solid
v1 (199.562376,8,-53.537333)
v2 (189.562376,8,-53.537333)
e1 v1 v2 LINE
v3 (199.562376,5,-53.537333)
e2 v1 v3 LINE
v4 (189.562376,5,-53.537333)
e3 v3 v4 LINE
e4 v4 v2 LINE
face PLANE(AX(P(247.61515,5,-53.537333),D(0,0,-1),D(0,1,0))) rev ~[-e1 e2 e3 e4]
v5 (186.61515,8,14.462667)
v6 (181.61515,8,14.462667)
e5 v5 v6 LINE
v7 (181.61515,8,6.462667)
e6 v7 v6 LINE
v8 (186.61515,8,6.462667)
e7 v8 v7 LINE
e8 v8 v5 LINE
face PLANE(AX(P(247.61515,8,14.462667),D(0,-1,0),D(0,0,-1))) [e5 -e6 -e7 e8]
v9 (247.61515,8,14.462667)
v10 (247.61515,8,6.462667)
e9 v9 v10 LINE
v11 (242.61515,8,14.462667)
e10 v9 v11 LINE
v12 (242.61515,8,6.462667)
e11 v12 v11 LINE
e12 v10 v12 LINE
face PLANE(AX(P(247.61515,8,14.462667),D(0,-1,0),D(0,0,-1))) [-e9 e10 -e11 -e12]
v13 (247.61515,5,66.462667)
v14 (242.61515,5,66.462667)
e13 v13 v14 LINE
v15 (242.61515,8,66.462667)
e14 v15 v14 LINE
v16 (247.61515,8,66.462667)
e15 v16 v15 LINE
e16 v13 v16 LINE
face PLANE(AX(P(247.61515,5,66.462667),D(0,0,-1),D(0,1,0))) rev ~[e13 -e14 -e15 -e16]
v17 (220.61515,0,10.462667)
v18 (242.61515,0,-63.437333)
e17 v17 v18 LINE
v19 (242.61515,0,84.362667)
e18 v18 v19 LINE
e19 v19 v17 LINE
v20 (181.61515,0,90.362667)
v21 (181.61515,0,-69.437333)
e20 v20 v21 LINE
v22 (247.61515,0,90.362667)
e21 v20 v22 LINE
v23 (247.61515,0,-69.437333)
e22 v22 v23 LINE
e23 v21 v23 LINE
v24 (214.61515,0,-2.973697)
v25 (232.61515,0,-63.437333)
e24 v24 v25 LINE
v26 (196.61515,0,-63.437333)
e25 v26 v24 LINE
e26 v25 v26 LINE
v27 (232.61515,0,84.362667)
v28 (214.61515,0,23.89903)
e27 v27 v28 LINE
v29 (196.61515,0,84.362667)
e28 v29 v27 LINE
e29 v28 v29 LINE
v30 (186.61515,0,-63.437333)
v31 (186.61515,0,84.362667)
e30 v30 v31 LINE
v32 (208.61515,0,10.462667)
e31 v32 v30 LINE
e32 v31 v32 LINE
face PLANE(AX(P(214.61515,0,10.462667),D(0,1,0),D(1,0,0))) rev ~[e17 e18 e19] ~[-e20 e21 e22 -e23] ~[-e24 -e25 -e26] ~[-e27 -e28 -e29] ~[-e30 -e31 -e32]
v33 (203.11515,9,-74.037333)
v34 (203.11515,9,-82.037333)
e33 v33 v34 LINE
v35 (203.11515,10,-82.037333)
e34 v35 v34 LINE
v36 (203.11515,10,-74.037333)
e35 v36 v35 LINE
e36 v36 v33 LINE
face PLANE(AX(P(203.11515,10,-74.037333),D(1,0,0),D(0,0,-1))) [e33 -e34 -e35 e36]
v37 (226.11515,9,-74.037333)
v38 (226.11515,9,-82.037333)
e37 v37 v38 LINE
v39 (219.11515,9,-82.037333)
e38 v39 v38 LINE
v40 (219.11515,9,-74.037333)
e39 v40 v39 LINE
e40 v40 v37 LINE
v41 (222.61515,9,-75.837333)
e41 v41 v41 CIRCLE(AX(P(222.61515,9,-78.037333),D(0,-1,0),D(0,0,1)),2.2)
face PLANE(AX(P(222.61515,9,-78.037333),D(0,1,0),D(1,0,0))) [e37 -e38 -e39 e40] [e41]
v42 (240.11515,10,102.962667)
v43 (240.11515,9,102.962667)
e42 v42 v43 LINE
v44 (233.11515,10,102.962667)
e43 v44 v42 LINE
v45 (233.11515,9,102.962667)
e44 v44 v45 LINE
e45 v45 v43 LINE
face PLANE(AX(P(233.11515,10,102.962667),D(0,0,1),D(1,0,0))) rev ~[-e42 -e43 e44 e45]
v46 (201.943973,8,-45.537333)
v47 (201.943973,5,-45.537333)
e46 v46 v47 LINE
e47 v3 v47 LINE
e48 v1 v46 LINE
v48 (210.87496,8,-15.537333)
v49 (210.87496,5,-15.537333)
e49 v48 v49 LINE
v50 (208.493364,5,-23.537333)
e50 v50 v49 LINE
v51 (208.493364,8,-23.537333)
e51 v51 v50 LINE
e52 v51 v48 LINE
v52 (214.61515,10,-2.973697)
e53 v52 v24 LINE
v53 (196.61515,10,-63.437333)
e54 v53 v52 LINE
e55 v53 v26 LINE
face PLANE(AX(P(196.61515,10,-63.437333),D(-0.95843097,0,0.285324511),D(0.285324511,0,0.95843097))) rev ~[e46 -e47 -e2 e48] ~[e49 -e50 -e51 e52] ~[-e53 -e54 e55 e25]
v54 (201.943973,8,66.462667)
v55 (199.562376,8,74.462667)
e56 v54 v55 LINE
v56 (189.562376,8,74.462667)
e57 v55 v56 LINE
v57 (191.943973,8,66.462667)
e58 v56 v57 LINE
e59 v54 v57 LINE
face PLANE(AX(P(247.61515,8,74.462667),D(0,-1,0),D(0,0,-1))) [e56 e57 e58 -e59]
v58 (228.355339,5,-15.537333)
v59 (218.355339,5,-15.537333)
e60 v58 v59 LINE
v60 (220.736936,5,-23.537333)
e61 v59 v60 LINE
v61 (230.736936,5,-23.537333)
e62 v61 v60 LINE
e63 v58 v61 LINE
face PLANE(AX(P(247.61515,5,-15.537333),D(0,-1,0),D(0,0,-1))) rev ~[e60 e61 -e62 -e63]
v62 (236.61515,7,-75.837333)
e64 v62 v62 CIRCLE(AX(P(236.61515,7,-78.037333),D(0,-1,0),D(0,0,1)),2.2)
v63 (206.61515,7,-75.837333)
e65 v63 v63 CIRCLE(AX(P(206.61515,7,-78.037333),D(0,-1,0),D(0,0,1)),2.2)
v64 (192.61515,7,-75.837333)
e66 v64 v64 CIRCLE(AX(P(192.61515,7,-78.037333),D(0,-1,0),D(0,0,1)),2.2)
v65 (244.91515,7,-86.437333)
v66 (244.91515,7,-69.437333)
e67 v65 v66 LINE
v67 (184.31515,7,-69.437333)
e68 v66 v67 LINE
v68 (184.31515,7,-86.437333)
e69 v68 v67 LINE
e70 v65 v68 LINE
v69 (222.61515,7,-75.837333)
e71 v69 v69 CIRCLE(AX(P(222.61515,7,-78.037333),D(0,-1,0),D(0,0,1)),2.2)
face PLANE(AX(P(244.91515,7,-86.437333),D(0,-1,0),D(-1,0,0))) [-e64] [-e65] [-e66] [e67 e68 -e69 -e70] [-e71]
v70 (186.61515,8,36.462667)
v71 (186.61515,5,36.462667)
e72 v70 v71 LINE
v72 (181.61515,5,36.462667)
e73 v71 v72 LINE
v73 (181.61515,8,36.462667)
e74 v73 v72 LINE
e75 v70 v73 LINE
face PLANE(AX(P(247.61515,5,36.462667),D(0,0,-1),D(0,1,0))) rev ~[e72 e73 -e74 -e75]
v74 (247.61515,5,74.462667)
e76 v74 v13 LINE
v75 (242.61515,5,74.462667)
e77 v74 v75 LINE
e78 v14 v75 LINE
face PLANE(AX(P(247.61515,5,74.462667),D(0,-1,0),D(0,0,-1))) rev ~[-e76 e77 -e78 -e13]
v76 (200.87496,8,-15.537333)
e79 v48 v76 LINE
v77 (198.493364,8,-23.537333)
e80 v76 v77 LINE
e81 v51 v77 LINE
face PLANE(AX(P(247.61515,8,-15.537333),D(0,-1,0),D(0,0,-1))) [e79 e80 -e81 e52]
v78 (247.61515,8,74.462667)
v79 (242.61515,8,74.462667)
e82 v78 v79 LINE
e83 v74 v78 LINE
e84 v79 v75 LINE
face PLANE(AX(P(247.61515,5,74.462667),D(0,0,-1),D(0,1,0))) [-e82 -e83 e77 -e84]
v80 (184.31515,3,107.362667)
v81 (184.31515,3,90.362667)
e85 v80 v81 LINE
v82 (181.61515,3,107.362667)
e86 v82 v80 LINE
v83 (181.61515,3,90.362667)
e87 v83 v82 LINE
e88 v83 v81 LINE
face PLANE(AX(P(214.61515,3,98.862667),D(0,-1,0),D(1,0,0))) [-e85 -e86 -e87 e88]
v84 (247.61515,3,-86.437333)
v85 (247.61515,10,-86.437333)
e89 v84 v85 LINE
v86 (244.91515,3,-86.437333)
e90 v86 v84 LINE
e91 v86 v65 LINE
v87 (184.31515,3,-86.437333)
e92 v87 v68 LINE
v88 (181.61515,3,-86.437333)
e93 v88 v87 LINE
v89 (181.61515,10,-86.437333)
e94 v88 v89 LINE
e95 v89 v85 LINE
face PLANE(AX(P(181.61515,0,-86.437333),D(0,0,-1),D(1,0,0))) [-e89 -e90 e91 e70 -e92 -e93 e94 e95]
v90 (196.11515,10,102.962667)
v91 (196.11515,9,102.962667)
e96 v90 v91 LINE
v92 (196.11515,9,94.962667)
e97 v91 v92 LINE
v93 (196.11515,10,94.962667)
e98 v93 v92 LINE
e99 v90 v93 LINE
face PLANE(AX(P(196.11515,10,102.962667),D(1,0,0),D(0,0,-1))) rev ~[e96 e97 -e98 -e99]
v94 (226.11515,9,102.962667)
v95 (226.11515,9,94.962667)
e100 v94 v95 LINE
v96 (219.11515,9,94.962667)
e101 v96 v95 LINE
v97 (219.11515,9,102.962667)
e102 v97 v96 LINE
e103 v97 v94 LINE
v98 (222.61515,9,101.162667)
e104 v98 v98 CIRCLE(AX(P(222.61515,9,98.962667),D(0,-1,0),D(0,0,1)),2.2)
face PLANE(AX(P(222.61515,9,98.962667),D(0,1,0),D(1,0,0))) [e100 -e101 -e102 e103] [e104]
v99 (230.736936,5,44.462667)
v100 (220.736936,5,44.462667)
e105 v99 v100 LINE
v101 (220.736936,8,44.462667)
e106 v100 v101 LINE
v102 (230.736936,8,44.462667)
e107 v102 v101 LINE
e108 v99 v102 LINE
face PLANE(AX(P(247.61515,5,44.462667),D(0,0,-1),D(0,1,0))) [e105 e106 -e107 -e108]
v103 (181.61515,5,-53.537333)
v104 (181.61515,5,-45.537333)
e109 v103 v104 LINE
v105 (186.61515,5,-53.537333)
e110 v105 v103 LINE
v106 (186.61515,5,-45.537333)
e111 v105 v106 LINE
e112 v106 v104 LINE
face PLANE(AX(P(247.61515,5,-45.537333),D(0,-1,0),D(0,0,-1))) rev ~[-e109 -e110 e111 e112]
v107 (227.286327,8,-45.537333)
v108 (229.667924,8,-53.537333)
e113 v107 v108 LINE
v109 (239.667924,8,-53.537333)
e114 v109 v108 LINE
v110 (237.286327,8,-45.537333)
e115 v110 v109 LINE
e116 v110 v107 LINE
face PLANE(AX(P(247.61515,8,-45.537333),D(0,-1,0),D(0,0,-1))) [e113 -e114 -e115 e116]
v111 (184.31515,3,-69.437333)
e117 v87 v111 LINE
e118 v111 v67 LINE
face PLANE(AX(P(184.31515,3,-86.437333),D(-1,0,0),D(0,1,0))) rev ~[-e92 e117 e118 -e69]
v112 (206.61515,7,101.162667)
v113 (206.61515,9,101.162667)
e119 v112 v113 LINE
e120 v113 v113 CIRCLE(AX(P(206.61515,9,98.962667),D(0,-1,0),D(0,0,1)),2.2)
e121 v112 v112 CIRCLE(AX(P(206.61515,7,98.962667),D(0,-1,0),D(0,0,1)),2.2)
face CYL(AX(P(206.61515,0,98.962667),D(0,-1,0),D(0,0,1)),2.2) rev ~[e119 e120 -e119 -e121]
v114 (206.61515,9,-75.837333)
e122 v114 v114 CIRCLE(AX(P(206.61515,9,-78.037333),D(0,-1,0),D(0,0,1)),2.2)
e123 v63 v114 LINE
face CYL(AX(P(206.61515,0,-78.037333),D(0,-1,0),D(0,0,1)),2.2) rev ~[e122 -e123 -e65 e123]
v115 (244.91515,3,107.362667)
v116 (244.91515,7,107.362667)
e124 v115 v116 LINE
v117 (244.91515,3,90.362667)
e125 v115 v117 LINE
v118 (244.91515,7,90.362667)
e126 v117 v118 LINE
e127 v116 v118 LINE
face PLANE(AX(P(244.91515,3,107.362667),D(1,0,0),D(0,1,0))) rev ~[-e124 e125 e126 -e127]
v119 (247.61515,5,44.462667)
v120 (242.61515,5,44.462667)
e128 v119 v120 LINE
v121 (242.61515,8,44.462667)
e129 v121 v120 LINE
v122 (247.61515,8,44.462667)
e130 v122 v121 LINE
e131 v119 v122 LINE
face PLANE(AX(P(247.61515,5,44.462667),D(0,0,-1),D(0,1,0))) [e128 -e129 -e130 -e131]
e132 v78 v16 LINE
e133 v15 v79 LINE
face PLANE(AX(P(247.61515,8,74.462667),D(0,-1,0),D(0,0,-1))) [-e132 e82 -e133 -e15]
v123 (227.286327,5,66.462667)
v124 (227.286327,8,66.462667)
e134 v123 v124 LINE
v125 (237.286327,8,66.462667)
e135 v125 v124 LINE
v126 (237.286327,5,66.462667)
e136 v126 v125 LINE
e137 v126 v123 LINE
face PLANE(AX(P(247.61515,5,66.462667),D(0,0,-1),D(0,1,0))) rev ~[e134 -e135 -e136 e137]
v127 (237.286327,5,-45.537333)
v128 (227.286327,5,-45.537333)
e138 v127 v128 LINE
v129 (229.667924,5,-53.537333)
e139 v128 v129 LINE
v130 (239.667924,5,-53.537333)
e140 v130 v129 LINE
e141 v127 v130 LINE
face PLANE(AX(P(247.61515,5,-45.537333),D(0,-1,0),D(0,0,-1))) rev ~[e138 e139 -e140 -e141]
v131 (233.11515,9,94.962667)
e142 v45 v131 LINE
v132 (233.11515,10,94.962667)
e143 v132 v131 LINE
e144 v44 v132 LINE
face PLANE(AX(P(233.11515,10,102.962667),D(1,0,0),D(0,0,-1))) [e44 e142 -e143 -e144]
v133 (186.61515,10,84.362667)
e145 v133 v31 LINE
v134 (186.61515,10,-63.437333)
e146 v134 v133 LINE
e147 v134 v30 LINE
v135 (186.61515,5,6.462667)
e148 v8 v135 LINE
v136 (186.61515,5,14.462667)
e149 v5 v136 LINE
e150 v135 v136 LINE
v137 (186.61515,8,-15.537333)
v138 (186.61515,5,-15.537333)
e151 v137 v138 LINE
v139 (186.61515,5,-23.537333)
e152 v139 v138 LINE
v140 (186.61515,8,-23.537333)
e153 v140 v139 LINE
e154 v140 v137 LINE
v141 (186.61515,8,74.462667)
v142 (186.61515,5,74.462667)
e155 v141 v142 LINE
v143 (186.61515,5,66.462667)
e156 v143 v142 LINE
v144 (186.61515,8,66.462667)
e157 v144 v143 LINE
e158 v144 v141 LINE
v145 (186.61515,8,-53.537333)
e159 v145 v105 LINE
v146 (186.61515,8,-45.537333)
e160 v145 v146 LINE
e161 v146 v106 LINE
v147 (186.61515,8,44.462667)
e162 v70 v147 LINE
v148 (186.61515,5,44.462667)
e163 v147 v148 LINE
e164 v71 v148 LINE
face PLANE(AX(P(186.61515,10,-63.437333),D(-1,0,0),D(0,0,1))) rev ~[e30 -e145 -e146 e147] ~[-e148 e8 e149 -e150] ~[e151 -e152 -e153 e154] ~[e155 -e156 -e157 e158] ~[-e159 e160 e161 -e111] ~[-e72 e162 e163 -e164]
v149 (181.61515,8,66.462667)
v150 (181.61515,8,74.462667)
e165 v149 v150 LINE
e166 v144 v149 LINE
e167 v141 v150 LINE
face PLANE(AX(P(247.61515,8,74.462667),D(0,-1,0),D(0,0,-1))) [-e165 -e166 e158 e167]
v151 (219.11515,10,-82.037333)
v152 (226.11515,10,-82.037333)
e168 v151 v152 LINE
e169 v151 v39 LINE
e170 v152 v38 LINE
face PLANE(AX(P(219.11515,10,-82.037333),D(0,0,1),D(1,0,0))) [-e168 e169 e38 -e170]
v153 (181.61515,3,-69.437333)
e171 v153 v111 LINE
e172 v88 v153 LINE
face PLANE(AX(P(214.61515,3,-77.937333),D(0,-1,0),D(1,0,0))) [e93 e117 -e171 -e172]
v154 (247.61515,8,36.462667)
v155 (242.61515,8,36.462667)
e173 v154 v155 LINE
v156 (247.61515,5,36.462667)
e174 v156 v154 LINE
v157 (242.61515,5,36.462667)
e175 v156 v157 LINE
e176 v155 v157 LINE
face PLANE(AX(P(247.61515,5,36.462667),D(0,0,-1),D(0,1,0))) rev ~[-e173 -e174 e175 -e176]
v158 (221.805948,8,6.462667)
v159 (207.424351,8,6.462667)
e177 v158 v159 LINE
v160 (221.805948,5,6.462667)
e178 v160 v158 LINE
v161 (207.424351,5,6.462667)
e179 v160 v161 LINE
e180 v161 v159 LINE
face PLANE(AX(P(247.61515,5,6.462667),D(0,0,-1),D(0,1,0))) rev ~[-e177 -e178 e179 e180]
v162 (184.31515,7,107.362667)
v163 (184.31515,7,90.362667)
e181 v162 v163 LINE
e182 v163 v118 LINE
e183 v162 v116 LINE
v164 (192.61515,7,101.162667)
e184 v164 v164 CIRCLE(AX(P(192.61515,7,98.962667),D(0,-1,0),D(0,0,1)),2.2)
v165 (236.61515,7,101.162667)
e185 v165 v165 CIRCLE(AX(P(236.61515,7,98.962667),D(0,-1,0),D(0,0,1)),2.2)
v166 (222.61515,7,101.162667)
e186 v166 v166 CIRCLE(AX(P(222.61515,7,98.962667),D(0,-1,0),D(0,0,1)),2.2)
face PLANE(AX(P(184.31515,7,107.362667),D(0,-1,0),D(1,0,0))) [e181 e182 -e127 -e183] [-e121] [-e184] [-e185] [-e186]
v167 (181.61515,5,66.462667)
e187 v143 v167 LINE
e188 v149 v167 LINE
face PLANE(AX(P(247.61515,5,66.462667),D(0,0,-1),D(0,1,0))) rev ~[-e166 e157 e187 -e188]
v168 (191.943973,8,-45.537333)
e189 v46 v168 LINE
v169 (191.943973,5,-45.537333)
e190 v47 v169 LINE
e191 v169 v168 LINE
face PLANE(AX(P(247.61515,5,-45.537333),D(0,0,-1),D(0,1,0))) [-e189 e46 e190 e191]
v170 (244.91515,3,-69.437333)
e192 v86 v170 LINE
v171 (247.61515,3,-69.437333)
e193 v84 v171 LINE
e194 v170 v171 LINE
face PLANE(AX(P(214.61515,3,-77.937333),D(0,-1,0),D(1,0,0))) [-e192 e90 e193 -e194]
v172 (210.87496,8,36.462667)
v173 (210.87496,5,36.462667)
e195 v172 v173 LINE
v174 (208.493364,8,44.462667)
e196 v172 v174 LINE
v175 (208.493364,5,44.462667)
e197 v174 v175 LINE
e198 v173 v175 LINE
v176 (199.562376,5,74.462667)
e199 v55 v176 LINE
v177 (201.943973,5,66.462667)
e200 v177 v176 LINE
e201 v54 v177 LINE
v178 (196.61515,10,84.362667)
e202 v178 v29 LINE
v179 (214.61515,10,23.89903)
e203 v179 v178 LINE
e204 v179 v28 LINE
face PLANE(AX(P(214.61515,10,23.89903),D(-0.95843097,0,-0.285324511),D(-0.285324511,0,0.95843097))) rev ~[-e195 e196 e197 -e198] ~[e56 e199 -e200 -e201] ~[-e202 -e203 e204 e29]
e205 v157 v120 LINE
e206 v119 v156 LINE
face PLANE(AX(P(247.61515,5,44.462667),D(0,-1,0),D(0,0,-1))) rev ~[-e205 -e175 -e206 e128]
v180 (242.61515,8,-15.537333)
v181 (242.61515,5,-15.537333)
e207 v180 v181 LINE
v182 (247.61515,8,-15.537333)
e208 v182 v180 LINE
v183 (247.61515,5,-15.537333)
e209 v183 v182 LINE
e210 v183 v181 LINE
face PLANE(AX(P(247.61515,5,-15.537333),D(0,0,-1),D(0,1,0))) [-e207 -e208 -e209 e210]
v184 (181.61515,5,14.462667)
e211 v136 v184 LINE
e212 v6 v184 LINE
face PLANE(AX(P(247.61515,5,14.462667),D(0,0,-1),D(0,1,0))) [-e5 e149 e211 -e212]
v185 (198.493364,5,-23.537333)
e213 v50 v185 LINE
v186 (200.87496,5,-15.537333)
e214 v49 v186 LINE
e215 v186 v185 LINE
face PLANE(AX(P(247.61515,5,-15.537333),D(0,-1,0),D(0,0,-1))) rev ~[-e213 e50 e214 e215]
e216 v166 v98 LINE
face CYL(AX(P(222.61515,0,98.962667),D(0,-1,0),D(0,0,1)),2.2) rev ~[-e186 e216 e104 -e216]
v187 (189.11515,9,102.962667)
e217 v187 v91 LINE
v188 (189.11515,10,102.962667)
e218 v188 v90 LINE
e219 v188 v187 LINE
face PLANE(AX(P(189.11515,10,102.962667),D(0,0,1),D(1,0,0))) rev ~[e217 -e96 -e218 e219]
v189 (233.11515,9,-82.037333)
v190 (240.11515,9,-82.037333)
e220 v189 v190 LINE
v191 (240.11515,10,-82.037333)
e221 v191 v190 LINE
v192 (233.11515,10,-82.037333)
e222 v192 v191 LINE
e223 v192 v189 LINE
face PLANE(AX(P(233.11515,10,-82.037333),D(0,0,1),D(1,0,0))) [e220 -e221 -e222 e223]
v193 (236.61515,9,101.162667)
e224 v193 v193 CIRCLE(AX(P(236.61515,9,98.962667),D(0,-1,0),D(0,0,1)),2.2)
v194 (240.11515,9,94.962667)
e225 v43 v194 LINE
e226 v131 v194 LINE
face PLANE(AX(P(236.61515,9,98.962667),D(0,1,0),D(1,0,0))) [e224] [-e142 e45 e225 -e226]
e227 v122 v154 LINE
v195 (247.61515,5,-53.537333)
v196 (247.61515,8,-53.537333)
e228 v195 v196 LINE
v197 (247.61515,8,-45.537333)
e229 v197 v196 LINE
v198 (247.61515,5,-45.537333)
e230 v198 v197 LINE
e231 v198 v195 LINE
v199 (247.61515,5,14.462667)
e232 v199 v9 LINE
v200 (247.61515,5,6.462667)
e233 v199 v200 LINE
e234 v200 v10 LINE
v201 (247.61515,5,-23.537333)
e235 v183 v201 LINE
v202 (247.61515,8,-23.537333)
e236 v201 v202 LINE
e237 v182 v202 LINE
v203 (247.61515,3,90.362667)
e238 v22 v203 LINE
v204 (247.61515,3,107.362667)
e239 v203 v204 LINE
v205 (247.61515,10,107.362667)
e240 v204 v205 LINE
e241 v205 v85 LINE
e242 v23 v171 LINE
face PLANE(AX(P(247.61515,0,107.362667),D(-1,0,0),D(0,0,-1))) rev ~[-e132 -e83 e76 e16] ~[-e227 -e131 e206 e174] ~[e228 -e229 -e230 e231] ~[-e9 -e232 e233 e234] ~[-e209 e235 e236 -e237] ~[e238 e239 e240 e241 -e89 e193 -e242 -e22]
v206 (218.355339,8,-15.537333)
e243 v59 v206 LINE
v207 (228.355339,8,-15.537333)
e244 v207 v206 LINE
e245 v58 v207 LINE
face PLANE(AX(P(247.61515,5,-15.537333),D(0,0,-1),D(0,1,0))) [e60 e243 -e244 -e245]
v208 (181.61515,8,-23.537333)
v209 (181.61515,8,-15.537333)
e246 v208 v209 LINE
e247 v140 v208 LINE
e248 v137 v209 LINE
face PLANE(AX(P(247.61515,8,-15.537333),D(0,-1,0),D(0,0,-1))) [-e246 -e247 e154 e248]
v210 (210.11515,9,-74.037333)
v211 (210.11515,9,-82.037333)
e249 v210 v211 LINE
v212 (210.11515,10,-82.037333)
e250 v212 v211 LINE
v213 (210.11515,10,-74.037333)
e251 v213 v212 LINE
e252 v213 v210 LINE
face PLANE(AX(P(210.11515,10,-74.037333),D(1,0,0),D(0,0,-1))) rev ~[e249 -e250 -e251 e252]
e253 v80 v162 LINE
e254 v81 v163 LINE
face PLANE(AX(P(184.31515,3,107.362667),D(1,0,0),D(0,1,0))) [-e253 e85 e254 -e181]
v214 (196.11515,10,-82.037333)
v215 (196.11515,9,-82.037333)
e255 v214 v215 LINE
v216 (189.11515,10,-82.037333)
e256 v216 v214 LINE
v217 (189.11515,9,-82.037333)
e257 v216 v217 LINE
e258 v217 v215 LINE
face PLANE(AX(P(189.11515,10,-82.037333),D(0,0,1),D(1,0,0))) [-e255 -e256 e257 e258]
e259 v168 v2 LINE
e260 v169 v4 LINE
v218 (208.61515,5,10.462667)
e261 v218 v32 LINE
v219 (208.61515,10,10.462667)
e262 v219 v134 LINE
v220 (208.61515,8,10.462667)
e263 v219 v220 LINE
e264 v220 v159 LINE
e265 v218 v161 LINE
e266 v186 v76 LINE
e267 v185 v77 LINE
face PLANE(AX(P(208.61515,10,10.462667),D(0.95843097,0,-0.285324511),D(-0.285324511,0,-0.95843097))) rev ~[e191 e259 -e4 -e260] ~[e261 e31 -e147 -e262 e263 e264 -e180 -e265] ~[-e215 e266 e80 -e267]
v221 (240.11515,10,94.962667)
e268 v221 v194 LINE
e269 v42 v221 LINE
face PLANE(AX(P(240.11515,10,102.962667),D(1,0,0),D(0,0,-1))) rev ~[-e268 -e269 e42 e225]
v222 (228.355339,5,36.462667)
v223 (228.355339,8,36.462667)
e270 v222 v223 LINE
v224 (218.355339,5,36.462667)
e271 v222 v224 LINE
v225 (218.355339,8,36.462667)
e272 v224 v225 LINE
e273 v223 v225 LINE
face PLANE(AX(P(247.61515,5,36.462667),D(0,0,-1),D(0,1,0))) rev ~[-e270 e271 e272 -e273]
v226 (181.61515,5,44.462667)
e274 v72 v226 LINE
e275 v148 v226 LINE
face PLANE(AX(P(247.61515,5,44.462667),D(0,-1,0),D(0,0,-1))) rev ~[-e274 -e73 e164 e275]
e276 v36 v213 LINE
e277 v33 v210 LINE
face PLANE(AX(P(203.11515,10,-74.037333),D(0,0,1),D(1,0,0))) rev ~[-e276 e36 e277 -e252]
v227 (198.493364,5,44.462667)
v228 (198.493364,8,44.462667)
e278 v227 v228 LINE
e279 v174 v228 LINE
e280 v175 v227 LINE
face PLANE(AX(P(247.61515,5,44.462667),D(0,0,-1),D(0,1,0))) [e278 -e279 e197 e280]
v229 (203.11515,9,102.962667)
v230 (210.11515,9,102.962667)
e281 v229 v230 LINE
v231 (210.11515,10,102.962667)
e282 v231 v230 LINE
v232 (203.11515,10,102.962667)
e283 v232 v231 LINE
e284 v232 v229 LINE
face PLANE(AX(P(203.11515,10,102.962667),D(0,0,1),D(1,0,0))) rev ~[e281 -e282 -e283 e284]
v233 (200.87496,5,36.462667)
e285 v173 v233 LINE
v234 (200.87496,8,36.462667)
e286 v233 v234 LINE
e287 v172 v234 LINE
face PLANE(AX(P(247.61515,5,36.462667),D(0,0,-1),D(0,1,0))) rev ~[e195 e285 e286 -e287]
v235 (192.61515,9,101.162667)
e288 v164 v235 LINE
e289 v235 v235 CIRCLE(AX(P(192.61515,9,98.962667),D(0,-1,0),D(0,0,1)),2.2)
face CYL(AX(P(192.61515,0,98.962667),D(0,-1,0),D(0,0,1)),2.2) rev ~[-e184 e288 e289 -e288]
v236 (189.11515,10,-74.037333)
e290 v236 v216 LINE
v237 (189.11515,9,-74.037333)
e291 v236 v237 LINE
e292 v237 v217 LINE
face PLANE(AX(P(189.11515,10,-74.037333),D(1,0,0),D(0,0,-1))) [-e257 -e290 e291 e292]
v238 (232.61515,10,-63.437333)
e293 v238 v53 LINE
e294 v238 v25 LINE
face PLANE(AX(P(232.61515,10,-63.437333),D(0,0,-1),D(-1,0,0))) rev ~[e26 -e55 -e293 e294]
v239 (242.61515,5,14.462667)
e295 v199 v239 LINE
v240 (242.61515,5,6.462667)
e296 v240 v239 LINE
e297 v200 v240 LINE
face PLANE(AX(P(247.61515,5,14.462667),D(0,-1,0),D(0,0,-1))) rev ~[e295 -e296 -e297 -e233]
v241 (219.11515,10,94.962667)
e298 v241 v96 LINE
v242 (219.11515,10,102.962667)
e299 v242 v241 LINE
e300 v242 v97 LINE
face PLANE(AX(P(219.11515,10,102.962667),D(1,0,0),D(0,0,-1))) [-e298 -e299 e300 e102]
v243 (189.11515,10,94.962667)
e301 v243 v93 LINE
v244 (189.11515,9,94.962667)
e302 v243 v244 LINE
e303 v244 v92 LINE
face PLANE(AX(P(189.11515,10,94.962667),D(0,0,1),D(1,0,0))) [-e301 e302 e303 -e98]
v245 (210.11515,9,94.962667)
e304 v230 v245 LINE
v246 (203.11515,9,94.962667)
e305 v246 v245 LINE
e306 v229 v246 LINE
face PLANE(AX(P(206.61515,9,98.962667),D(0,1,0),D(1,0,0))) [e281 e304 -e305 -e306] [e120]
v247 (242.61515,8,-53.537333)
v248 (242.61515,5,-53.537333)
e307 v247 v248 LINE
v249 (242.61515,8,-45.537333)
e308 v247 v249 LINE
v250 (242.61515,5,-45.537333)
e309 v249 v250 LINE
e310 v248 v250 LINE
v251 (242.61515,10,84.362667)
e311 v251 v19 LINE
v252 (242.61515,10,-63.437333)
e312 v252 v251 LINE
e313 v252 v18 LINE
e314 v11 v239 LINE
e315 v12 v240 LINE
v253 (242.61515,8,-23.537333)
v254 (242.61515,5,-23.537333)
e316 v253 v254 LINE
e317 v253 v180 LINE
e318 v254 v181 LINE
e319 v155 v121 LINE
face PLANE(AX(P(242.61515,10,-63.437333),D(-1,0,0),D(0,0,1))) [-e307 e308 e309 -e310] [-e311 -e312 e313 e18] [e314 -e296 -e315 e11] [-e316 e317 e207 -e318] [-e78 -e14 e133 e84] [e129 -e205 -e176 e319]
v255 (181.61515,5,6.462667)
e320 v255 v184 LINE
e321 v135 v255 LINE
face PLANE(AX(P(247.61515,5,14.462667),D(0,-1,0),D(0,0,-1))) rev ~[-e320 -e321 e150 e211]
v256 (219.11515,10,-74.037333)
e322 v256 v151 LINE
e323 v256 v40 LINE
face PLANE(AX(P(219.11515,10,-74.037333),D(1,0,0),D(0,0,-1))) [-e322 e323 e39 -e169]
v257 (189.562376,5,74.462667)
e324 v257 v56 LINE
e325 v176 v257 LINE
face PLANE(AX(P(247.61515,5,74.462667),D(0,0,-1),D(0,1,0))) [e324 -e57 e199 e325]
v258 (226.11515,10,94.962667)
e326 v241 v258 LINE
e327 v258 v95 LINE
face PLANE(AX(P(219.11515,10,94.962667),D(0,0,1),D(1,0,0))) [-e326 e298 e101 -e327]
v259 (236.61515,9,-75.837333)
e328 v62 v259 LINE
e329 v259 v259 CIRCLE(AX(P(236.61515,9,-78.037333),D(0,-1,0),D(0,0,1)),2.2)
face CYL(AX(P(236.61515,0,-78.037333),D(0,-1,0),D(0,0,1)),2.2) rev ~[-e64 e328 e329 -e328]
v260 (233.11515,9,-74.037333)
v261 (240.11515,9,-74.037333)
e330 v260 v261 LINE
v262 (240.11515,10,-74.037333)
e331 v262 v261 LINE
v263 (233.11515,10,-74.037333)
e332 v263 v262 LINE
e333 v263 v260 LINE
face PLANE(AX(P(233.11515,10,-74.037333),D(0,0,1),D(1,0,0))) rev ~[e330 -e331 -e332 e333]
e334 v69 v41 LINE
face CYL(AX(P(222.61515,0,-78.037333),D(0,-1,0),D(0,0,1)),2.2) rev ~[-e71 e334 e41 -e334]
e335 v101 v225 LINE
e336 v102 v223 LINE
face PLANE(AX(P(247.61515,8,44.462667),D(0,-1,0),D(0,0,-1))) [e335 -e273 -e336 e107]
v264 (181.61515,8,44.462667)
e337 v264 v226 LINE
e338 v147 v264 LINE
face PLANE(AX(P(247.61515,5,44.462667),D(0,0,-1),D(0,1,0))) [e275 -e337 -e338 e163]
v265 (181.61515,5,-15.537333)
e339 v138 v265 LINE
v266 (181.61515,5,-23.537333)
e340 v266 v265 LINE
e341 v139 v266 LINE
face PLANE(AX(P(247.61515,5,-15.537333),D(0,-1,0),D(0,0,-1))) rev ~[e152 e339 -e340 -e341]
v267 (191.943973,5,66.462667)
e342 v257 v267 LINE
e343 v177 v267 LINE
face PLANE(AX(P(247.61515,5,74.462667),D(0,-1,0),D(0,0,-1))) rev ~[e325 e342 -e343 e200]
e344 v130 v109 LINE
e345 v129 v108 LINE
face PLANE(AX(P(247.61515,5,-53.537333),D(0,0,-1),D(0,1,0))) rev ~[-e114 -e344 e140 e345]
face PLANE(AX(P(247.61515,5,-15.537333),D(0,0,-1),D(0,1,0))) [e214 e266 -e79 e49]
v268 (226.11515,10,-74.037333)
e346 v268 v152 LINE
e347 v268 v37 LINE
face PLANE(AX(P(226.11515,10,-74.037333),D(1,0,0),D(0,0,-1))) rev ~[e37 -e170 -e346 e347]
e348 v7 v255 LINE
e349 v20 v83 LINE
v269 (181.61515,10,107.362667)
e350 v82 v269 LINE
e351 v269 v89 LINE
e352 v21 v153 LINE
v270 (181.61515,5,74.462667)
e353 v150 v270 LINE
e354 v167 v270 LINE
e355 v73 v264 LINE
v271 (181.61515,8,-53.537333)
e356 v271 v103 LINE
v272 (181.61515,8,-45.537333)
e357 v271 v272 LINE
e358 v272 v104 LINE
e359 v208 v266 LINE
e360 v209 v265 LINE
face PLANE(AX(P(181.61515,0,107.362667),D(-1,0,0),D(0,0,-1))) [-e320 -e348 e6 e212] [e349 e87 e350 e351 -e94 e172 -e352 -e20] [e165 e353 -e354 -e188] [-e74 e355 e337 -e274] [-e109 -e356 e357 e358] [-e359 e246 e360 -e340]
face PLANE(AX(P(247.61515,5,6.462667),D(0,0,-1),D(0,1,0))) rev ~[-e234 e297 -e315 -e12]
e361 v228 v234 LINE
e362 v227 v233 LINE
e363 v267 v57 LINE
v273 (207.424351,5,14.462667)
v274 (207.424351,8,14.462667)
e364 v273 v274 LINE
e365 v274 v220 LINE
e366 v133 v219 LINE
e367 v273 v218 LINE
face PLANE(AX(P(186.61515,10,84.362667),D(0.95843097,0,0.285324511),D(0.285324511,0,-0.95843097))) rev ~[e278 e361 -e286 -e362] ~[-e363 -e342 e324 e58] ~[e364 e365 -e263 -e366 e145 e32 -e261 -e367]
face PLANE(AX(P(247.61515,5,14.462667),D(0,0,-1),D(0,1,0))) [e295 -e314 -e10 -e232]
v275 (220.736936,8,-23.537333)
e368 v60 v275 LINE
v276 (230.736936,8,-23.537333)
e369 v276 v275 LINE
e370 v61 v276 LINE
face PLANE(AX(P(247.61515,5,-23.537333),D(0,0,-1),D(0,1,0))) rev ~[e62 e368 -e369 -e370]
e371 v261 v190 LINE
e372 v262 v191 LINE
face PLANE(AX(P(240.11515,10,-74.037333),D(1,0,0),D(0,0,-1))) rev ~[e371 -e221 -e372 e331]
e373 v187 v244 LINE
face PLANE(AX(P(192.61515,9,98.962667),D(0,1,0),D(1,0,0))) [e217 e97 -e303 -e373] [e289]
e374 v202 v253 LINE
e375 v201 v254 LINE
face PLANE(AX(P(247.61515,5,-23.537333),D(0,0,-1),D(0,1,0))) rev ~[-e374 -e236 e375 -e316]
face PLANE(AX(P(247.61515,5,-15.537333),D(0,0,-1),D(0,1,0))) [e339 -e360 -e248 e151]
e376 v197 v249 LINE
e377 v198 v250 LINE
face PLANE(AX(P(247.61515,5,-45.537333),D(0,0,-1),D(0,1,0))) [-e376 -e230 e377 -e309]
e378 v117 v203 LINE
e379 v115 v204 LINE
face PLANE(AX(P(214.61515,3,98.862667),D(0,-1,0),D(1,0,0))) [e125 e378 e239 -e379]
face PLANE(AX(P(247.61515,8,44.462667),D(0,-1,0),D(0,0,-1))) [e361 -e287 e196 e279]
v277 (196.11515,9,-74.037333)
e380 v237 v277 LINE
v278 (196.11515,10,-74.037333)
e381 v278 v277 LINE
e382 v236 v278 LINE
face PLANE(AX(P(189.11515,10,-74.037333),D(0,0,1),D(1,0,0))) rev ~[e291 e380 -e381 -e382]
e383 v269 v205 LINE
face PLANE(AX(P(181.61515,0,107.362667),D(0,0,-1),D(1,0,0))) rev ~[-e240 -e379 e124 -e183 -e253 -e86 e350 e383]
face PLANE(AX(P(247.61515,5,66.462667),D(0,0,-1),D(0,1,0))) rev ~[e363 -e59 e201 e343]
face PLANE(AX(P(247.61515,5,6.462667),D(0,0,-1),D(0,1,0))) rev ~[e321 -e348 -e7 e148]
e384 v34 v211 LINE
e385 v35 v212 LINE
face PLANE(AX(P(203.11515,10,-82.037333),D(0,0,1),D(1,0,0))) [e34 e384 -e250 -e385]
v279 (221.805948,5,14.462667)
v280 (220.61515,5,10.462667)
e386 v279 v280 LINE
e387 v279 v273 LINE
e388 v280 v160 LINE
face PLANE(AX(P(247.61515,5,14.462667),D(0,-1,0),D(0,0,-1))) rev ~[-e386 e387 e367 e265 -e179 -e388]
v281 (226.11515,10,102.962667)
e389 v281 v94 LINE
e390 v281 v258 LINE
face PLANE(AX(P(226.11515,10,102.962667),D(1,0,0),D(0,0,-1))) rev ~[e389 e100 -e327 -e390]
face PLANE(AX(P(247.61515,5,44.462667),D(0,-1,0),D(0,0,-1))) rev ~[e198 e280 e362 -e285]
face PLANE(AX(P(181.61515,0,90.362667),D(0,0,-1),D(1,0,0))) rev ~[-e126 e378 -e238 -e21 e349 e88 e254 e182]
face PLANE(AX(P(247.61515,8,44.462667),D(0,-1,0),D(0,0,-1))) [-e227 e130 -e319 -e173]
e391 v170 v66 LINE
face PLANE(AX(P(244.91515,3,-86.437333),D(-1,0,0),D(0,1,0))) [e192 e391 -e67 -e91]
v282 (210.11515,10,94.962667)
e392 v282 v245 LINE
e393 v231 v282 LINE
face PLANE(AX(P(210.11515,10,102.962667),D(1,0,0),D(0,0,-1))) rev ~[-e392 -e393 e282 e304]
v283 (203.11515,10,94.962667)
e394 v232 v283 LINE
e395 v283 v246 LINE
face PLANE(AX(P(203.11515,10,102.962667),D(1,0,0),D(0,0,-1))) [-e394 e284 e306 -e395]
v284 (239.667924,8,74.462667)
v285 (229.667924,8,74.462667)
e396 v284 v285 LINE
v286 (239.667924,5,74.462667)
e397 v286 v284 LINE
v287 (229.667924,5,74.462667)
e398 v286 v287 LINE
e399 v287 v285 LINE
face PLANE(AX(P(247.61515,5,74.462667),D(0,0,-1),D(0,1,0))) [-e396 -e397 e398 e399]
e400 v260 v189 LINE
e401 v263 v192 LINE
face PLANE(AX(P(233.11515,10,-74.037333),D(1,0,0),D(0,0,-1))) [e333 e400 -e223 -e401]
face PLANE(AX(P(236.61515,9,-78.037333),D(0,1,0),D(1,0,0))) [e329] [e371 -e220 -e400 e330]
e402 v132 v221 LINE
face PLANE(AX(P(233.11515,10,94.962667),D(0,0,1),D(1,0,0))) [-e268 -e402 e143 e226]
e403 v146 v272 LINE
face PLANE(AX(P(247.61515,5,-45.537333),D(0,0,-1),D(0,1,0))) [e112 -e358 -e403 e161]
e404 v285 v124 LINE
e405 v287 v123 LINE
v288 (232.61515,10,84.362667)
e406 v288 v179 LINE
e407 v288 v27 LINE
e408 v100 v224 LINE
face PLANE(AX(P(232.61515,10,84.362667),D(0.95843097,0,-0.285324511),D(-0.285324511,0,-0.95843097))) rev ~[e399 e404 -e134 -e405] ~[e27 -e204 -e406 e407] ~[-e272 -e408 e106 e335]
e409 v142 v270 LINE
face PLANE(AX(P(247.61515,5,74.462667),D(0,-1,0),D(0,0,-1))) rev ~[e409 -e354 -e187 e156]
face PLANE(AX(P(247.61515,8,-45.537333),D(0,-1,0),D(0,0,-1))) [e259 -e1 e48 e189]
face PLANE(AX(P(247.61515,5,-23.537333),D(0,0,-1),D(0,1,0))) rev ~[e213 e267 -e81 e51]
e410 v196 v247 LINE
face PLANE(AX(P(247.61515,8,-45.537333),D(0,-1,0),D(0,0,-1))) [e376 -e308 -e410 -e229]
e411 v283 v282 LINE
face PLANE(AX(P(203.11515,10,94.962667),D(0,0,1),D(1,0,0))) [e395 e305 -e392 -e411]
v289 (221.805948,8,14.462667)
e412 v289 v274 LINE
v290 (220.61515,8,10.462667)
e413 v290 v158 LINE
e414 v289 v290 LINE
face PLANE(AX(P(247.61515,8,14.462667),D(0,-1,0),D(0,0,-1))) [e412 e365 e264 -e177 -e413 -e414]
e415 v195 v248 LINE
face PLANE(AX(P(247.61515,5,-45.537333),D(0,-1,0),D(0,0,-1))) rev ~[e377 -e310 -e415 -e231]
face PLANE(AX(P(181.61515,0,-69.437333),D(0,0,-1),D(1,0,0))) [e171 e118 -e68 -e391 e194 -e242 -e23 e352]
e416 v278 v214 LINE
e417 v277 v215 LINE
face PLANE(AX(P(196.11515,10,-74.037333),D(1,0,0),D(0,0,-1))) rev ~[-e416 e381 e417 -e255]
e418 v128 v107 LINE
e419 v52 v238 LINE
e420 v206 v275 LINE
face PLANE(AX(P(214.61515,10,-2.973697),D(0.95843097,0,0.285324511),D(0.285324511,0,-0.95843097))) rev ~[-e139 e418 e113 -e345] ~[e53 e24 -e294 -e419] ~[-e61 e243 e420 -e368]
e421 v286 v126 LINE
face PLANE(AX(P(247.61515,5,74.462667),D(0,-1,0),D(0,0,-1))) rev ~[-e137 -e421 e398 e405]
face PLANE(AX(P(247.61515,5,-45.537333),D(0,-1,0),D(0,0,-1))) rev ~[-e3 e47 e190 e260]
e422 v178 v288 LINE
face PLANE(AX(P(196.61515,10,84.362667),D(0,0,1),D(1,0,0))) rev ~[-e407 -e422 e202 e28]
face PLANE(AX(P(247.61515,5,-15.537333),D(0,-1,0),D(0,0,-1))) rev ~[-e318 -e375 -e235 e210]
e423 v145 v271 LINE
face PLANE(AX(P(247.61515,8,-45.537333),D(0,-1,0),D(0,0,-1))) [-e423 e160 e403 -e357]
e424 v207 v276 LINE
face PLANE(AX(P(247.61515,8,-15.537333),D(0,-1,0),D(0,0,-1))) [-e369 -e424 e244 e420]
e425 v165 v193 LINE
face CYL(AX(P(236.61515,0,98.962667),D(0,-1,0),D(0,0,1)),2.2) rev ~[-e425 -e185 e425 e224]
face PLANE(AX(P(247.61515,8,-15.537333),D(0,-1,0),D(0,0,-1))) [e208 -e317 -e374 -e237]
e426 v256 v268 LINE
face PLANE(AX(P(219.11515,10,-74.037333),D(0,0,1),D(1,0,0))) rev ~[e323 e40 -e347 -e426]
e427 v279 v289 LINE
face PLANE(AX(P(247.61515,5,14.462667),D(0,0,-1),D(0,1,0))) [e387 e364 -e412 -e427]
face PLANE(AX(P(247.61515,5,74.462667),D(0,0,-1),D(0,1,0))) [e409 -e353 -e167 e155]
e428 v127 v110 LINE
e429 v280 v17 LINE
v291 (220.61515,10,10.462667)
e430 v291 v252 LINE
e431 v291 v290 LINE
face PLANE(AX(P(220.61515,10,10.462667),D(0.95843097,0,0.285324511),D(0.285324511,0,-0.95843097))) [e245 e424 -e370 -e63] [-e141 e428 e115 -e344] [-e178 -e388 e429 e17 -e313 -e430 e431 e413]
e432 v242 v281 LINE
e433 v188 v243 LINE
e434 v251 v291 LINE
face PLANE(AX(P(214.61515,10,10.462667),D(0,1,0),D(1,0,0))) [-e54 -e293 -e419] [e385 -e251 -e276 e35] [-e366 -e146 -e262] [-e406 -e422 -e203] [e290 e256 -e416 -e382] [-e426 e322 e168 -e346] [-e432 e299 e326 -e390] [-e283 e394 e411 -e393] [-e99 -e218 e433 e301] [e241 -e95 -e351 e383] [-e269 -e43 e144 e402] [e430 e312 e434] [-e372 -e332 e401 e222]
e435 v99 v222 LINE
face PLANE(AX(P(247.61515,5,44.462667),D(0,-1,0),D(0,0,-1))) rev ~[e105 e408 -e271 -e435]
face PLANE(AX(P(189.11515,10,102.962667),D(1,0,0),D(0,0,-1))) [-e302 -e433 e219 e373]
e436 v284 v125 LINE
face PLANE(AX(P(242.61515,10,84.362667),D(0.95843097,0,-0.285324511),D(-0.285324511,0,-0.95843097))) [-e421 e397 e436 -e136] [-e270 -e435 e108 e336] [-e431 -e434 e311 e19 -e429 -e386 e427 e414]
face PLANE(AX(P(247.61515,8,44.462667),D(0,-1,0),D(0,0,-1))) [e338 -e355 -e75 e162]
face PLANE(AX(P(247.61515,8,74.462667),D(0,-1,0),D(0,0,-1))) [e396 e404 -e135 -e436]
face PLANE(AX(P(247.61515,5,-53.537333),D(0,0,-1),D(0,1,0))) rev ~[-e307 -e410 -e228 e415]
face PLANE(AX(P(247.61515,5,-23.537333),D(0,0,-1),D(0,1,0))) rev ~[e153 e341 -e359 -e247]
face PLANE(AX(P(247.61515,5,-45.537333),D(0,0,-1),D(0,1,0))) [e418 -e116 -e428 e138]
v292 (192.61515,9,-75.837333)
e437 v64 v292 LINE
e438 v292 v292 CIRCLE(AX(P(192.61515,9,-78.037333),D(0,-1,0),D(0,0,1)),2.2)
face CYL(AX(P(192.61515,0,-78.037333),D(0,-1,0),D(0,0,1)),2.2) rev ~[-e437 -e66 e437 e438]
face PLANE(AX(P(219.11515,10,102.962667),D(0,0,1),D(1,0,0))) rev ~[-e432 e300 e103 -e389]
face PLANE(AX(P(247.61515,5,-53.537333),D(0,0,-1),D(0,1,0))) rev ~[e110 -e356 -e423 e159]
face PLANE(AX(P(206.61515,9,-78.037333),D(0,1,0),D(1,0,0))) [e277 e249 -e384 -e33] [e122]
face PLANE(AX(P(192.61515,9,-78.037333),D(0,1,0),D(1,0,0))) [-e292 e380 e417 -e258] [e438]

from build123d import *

# Parameters (mm, degrees)
SKETCH1_W           = 66
SKETCH1_H           = 193.8
BOSS_EXTRUDE1_DEPTH = 10
SKETCH2_W           = 66
SKETCH2_H           = 17
CUT_EXTRUDE1_DEPTH  = 3
SKETCH3_W           = 66
SKETCH3_H           = 17
CUT_EXTRUDE2_DEPTH  = 3
SKETCH4_W           = 60.6
SKETCH4_H           = 4
CUT_EXTRUDE3_DEPTH  = 17
SKETCH5_W           = 60.6
SKETCH5_H           = 4
CUT_EXTRUDE4_DEPTH  = 17
SKETCH6_R           = 2.2
CUT_EXTRUDE5_DEPTH  = 10
SKETCH7_W           = 7
SKETCH7_H           = 8
CUT_EXTRUDE6_DEPTH  = 1
CUT_EXTRUDE7_DEPTH  = 271.07407236
SKETCH9_W           = 8
SKETCH9_H           = 3
CUT_EXTRUDE8_DEPTH  = 127.422870419


with BuildPart() as part:
    # Sketch1 → Boss-Extrude1 (new body)
    with BuildSketch(Plane(origin=(0, 0, 0), x_dir=(1, 0, 0), z_dir=(0, 1, 0))):
        with Locations((214.615149771, -10.462666532)):
            Rectangle(SKETCH1_W, SKETCH1_H)
    extrude(amount=BOSS_EXTRUDE1_DEPTH)

    # Sketch2 → Cut-Extrude1 (cut)
    with BuildSketch(Plane.XZ):
        with Locations((214.615149771, -77.937333468)):
            Rectangle(SKETCH2_W, SKETCH2_H)
    extrude(amount=-CUT_EXTRUDE1_DEPTH, mode=Mode.SUBTRACT)

    # Sketch3 → Cut-Extrude2 (cut)
    with BuildSketch(Plane.XZ):
        with Locations((214.615149771, 98.862666532)):
            Rectangle(SKETCH3_W, SKETCH3_H)
    extrude(amount=-CUT_EXTRUDE2_DEPTH, mode=Mode.SUBTRACT)

    # Sketch4 → Cut-Extrude3 (cut)
    with BuildSketch(Plane(origin=(0, 0, -86.437333468), x_dir=(-1, 0, 0), z_dir=(0, 0, -1))):
        with Locations((-214.615149771, 5)):
            Rectangle(SKETCH4_W, SKETCH4_H)
    extrude(amount=-CUT_EXTRUDE3_DEPTH, mode=Mode.SUBTRACT)

    # Sketch5 → Cut-Extrude4 (cut)
    with BuildSketch(Plane.XY.offset(107.362666532)):
        with Locations((214.615149771, 5)):
            Rectangle(SKETCH5_W, SKETCH5_H)
    extrude(amount=-CUT_EXTRUDE4_DEPTH, mode=Mode.SUBTRACT)

    # Sketch6 → Cut-Extrude5 (cut)
    with BuildSketch(Plane.XZ):
        with Locations(Location((236.615149771, 98.962666532, 0), (0, 0, 90))):
            Circle(SKETCH6_R)
        with Locations(Location((222.615149771, 98.962666532, 0), (0, 0, 90))):
            Circle(SKETCH6_R)
        with Locations(Location((206.615149771, 98.962666532, 0), (0, 0, 90))):
            Circle(SKETCH6_R)
        with Locations(Location((192.615149771, 98.962666532, 0), (0, 0, 90))):
            Circle(SKETCH6_R)
        with Locations(Location((236.615149771, -78.037333468, 0), (0, 0, 90))):
            Circle(SKETCH6_R)
        with Locations(Location((222.615149771, -78.037333468, 0), (0, 0, 90))):
            Circle(SKETCH6_R)
        with Locations(Location((206.615149771, -78.037333468, 0), (0, 0, 90))):
            Circle(SKETCH6_R)
        with Locations(Location((192.615149771, -78.037333468, 0), (0, 0, 90))):
            Circle(SKETCH6_R)
    extrude(amount=-CUT_EXTRUDE5_DEPTH, mode=Mode.SUBTRACT)

    # Sketch7 → Cut-Extrude6 (cut)
    with BuildSketch(Plane(origin=(0, 10, 0), x_dir=(1, 0, 0), z_dir=(0, 1, 0))):
        with Locations((192.615149771, 78.037333468)):
            Rectangle(SKETCH7_W, SKETCH7_H)
        with Locations((206.615149771, 78.037333468)):
            Rectangle(SKETCH7_W, SKETCH7_H)
        with Locations((222.615149771, 78.037333468)):
            Rectangle(SKETCH7_W, SKETCH7_H)
        with Locations((236.615149771, 78.037333468)):
            Rectangle(SKETCH7_W, SKETCH7_H)
        with Locations((236.615149771, -98.962666532)):
            Rectangle(SKETCH7_W, SKETCH7_H)
        with Locations((222.615149771, -98.962666532)):
            Rectangle(SKETCH7_W, SKETCH7_H)
        with Locations((206.615149771, -98.962666532)):
            Rectangle(SKETCH7_W, SKETCH7_H)
        with Locations((192.615149771, -98.962666532)):
            Rectangle(SKETCH7_W, SKETCH7_H)
    extrude(amount=-CUT_EXTRUDE6_DEPTH, mode=Mode.SUBTRACT)

    # Sketch8 → Cut-Extrude7 (cut, through all)
    with BuildSketch(Plane(origin=(0, 10, 0), x_dir=(1, 0, 0), z_dir=(0, 1, 0))):
        Polygon((186.615149771, 63.437333468), (186.615149771, -84.362666532), (208.615149771, -10.462666532), align=None)
        Polygon((196.615149771, 63.437333468), (214.615149771, 2.973697104), (232.615149771, 63.437333468), align=None)
        Polygon((214.615149771, -23.899030169), (196.615149771, -84.362666532), (232.615149771, -84.362666532), align=None)
        Polygon((242.615149771, 63.437333468), (242.615149771, -84.362666532), (220.615149771, -10.462666532), align=None)
    extrude(amount=-CUT_EXTRUDE7_DEPTH, mode=Mode.SUBTRACT)

    # Sketch9 → Cut-Extrude8 (cut, through all)
    with BuildSketch(Plane(origin=(247.615149771, 0, 0), x_dir=(0, 0, -1), z_dir=(1, 0, 0))):
        with Locations((-70.462666532, 6.5)):
            Rectangle(SKETCH9_W, SKETCH9_H)
        with Locations((-40.462666532, 6.5)):
            Rectangle(SKETCH9_W, SKETCH9_H)
        with Locations((-10.462666532, 6.5)):
            Rectangle(SKETCH9_W, SKETCH9_H)
        with Locations((19.537333468, 6.5)):
            Rectangle(SKETCH9_W, SKETCH9_H)
        with Locations((49.537333468, 6.5)):
            Rectangle(SKETCH9_W, SKETCH9_H)
    extrude(amount=-CUT_EXTRUDE8_DEPTH, mode=Mode.SUBTRACT)


solid = part.part
